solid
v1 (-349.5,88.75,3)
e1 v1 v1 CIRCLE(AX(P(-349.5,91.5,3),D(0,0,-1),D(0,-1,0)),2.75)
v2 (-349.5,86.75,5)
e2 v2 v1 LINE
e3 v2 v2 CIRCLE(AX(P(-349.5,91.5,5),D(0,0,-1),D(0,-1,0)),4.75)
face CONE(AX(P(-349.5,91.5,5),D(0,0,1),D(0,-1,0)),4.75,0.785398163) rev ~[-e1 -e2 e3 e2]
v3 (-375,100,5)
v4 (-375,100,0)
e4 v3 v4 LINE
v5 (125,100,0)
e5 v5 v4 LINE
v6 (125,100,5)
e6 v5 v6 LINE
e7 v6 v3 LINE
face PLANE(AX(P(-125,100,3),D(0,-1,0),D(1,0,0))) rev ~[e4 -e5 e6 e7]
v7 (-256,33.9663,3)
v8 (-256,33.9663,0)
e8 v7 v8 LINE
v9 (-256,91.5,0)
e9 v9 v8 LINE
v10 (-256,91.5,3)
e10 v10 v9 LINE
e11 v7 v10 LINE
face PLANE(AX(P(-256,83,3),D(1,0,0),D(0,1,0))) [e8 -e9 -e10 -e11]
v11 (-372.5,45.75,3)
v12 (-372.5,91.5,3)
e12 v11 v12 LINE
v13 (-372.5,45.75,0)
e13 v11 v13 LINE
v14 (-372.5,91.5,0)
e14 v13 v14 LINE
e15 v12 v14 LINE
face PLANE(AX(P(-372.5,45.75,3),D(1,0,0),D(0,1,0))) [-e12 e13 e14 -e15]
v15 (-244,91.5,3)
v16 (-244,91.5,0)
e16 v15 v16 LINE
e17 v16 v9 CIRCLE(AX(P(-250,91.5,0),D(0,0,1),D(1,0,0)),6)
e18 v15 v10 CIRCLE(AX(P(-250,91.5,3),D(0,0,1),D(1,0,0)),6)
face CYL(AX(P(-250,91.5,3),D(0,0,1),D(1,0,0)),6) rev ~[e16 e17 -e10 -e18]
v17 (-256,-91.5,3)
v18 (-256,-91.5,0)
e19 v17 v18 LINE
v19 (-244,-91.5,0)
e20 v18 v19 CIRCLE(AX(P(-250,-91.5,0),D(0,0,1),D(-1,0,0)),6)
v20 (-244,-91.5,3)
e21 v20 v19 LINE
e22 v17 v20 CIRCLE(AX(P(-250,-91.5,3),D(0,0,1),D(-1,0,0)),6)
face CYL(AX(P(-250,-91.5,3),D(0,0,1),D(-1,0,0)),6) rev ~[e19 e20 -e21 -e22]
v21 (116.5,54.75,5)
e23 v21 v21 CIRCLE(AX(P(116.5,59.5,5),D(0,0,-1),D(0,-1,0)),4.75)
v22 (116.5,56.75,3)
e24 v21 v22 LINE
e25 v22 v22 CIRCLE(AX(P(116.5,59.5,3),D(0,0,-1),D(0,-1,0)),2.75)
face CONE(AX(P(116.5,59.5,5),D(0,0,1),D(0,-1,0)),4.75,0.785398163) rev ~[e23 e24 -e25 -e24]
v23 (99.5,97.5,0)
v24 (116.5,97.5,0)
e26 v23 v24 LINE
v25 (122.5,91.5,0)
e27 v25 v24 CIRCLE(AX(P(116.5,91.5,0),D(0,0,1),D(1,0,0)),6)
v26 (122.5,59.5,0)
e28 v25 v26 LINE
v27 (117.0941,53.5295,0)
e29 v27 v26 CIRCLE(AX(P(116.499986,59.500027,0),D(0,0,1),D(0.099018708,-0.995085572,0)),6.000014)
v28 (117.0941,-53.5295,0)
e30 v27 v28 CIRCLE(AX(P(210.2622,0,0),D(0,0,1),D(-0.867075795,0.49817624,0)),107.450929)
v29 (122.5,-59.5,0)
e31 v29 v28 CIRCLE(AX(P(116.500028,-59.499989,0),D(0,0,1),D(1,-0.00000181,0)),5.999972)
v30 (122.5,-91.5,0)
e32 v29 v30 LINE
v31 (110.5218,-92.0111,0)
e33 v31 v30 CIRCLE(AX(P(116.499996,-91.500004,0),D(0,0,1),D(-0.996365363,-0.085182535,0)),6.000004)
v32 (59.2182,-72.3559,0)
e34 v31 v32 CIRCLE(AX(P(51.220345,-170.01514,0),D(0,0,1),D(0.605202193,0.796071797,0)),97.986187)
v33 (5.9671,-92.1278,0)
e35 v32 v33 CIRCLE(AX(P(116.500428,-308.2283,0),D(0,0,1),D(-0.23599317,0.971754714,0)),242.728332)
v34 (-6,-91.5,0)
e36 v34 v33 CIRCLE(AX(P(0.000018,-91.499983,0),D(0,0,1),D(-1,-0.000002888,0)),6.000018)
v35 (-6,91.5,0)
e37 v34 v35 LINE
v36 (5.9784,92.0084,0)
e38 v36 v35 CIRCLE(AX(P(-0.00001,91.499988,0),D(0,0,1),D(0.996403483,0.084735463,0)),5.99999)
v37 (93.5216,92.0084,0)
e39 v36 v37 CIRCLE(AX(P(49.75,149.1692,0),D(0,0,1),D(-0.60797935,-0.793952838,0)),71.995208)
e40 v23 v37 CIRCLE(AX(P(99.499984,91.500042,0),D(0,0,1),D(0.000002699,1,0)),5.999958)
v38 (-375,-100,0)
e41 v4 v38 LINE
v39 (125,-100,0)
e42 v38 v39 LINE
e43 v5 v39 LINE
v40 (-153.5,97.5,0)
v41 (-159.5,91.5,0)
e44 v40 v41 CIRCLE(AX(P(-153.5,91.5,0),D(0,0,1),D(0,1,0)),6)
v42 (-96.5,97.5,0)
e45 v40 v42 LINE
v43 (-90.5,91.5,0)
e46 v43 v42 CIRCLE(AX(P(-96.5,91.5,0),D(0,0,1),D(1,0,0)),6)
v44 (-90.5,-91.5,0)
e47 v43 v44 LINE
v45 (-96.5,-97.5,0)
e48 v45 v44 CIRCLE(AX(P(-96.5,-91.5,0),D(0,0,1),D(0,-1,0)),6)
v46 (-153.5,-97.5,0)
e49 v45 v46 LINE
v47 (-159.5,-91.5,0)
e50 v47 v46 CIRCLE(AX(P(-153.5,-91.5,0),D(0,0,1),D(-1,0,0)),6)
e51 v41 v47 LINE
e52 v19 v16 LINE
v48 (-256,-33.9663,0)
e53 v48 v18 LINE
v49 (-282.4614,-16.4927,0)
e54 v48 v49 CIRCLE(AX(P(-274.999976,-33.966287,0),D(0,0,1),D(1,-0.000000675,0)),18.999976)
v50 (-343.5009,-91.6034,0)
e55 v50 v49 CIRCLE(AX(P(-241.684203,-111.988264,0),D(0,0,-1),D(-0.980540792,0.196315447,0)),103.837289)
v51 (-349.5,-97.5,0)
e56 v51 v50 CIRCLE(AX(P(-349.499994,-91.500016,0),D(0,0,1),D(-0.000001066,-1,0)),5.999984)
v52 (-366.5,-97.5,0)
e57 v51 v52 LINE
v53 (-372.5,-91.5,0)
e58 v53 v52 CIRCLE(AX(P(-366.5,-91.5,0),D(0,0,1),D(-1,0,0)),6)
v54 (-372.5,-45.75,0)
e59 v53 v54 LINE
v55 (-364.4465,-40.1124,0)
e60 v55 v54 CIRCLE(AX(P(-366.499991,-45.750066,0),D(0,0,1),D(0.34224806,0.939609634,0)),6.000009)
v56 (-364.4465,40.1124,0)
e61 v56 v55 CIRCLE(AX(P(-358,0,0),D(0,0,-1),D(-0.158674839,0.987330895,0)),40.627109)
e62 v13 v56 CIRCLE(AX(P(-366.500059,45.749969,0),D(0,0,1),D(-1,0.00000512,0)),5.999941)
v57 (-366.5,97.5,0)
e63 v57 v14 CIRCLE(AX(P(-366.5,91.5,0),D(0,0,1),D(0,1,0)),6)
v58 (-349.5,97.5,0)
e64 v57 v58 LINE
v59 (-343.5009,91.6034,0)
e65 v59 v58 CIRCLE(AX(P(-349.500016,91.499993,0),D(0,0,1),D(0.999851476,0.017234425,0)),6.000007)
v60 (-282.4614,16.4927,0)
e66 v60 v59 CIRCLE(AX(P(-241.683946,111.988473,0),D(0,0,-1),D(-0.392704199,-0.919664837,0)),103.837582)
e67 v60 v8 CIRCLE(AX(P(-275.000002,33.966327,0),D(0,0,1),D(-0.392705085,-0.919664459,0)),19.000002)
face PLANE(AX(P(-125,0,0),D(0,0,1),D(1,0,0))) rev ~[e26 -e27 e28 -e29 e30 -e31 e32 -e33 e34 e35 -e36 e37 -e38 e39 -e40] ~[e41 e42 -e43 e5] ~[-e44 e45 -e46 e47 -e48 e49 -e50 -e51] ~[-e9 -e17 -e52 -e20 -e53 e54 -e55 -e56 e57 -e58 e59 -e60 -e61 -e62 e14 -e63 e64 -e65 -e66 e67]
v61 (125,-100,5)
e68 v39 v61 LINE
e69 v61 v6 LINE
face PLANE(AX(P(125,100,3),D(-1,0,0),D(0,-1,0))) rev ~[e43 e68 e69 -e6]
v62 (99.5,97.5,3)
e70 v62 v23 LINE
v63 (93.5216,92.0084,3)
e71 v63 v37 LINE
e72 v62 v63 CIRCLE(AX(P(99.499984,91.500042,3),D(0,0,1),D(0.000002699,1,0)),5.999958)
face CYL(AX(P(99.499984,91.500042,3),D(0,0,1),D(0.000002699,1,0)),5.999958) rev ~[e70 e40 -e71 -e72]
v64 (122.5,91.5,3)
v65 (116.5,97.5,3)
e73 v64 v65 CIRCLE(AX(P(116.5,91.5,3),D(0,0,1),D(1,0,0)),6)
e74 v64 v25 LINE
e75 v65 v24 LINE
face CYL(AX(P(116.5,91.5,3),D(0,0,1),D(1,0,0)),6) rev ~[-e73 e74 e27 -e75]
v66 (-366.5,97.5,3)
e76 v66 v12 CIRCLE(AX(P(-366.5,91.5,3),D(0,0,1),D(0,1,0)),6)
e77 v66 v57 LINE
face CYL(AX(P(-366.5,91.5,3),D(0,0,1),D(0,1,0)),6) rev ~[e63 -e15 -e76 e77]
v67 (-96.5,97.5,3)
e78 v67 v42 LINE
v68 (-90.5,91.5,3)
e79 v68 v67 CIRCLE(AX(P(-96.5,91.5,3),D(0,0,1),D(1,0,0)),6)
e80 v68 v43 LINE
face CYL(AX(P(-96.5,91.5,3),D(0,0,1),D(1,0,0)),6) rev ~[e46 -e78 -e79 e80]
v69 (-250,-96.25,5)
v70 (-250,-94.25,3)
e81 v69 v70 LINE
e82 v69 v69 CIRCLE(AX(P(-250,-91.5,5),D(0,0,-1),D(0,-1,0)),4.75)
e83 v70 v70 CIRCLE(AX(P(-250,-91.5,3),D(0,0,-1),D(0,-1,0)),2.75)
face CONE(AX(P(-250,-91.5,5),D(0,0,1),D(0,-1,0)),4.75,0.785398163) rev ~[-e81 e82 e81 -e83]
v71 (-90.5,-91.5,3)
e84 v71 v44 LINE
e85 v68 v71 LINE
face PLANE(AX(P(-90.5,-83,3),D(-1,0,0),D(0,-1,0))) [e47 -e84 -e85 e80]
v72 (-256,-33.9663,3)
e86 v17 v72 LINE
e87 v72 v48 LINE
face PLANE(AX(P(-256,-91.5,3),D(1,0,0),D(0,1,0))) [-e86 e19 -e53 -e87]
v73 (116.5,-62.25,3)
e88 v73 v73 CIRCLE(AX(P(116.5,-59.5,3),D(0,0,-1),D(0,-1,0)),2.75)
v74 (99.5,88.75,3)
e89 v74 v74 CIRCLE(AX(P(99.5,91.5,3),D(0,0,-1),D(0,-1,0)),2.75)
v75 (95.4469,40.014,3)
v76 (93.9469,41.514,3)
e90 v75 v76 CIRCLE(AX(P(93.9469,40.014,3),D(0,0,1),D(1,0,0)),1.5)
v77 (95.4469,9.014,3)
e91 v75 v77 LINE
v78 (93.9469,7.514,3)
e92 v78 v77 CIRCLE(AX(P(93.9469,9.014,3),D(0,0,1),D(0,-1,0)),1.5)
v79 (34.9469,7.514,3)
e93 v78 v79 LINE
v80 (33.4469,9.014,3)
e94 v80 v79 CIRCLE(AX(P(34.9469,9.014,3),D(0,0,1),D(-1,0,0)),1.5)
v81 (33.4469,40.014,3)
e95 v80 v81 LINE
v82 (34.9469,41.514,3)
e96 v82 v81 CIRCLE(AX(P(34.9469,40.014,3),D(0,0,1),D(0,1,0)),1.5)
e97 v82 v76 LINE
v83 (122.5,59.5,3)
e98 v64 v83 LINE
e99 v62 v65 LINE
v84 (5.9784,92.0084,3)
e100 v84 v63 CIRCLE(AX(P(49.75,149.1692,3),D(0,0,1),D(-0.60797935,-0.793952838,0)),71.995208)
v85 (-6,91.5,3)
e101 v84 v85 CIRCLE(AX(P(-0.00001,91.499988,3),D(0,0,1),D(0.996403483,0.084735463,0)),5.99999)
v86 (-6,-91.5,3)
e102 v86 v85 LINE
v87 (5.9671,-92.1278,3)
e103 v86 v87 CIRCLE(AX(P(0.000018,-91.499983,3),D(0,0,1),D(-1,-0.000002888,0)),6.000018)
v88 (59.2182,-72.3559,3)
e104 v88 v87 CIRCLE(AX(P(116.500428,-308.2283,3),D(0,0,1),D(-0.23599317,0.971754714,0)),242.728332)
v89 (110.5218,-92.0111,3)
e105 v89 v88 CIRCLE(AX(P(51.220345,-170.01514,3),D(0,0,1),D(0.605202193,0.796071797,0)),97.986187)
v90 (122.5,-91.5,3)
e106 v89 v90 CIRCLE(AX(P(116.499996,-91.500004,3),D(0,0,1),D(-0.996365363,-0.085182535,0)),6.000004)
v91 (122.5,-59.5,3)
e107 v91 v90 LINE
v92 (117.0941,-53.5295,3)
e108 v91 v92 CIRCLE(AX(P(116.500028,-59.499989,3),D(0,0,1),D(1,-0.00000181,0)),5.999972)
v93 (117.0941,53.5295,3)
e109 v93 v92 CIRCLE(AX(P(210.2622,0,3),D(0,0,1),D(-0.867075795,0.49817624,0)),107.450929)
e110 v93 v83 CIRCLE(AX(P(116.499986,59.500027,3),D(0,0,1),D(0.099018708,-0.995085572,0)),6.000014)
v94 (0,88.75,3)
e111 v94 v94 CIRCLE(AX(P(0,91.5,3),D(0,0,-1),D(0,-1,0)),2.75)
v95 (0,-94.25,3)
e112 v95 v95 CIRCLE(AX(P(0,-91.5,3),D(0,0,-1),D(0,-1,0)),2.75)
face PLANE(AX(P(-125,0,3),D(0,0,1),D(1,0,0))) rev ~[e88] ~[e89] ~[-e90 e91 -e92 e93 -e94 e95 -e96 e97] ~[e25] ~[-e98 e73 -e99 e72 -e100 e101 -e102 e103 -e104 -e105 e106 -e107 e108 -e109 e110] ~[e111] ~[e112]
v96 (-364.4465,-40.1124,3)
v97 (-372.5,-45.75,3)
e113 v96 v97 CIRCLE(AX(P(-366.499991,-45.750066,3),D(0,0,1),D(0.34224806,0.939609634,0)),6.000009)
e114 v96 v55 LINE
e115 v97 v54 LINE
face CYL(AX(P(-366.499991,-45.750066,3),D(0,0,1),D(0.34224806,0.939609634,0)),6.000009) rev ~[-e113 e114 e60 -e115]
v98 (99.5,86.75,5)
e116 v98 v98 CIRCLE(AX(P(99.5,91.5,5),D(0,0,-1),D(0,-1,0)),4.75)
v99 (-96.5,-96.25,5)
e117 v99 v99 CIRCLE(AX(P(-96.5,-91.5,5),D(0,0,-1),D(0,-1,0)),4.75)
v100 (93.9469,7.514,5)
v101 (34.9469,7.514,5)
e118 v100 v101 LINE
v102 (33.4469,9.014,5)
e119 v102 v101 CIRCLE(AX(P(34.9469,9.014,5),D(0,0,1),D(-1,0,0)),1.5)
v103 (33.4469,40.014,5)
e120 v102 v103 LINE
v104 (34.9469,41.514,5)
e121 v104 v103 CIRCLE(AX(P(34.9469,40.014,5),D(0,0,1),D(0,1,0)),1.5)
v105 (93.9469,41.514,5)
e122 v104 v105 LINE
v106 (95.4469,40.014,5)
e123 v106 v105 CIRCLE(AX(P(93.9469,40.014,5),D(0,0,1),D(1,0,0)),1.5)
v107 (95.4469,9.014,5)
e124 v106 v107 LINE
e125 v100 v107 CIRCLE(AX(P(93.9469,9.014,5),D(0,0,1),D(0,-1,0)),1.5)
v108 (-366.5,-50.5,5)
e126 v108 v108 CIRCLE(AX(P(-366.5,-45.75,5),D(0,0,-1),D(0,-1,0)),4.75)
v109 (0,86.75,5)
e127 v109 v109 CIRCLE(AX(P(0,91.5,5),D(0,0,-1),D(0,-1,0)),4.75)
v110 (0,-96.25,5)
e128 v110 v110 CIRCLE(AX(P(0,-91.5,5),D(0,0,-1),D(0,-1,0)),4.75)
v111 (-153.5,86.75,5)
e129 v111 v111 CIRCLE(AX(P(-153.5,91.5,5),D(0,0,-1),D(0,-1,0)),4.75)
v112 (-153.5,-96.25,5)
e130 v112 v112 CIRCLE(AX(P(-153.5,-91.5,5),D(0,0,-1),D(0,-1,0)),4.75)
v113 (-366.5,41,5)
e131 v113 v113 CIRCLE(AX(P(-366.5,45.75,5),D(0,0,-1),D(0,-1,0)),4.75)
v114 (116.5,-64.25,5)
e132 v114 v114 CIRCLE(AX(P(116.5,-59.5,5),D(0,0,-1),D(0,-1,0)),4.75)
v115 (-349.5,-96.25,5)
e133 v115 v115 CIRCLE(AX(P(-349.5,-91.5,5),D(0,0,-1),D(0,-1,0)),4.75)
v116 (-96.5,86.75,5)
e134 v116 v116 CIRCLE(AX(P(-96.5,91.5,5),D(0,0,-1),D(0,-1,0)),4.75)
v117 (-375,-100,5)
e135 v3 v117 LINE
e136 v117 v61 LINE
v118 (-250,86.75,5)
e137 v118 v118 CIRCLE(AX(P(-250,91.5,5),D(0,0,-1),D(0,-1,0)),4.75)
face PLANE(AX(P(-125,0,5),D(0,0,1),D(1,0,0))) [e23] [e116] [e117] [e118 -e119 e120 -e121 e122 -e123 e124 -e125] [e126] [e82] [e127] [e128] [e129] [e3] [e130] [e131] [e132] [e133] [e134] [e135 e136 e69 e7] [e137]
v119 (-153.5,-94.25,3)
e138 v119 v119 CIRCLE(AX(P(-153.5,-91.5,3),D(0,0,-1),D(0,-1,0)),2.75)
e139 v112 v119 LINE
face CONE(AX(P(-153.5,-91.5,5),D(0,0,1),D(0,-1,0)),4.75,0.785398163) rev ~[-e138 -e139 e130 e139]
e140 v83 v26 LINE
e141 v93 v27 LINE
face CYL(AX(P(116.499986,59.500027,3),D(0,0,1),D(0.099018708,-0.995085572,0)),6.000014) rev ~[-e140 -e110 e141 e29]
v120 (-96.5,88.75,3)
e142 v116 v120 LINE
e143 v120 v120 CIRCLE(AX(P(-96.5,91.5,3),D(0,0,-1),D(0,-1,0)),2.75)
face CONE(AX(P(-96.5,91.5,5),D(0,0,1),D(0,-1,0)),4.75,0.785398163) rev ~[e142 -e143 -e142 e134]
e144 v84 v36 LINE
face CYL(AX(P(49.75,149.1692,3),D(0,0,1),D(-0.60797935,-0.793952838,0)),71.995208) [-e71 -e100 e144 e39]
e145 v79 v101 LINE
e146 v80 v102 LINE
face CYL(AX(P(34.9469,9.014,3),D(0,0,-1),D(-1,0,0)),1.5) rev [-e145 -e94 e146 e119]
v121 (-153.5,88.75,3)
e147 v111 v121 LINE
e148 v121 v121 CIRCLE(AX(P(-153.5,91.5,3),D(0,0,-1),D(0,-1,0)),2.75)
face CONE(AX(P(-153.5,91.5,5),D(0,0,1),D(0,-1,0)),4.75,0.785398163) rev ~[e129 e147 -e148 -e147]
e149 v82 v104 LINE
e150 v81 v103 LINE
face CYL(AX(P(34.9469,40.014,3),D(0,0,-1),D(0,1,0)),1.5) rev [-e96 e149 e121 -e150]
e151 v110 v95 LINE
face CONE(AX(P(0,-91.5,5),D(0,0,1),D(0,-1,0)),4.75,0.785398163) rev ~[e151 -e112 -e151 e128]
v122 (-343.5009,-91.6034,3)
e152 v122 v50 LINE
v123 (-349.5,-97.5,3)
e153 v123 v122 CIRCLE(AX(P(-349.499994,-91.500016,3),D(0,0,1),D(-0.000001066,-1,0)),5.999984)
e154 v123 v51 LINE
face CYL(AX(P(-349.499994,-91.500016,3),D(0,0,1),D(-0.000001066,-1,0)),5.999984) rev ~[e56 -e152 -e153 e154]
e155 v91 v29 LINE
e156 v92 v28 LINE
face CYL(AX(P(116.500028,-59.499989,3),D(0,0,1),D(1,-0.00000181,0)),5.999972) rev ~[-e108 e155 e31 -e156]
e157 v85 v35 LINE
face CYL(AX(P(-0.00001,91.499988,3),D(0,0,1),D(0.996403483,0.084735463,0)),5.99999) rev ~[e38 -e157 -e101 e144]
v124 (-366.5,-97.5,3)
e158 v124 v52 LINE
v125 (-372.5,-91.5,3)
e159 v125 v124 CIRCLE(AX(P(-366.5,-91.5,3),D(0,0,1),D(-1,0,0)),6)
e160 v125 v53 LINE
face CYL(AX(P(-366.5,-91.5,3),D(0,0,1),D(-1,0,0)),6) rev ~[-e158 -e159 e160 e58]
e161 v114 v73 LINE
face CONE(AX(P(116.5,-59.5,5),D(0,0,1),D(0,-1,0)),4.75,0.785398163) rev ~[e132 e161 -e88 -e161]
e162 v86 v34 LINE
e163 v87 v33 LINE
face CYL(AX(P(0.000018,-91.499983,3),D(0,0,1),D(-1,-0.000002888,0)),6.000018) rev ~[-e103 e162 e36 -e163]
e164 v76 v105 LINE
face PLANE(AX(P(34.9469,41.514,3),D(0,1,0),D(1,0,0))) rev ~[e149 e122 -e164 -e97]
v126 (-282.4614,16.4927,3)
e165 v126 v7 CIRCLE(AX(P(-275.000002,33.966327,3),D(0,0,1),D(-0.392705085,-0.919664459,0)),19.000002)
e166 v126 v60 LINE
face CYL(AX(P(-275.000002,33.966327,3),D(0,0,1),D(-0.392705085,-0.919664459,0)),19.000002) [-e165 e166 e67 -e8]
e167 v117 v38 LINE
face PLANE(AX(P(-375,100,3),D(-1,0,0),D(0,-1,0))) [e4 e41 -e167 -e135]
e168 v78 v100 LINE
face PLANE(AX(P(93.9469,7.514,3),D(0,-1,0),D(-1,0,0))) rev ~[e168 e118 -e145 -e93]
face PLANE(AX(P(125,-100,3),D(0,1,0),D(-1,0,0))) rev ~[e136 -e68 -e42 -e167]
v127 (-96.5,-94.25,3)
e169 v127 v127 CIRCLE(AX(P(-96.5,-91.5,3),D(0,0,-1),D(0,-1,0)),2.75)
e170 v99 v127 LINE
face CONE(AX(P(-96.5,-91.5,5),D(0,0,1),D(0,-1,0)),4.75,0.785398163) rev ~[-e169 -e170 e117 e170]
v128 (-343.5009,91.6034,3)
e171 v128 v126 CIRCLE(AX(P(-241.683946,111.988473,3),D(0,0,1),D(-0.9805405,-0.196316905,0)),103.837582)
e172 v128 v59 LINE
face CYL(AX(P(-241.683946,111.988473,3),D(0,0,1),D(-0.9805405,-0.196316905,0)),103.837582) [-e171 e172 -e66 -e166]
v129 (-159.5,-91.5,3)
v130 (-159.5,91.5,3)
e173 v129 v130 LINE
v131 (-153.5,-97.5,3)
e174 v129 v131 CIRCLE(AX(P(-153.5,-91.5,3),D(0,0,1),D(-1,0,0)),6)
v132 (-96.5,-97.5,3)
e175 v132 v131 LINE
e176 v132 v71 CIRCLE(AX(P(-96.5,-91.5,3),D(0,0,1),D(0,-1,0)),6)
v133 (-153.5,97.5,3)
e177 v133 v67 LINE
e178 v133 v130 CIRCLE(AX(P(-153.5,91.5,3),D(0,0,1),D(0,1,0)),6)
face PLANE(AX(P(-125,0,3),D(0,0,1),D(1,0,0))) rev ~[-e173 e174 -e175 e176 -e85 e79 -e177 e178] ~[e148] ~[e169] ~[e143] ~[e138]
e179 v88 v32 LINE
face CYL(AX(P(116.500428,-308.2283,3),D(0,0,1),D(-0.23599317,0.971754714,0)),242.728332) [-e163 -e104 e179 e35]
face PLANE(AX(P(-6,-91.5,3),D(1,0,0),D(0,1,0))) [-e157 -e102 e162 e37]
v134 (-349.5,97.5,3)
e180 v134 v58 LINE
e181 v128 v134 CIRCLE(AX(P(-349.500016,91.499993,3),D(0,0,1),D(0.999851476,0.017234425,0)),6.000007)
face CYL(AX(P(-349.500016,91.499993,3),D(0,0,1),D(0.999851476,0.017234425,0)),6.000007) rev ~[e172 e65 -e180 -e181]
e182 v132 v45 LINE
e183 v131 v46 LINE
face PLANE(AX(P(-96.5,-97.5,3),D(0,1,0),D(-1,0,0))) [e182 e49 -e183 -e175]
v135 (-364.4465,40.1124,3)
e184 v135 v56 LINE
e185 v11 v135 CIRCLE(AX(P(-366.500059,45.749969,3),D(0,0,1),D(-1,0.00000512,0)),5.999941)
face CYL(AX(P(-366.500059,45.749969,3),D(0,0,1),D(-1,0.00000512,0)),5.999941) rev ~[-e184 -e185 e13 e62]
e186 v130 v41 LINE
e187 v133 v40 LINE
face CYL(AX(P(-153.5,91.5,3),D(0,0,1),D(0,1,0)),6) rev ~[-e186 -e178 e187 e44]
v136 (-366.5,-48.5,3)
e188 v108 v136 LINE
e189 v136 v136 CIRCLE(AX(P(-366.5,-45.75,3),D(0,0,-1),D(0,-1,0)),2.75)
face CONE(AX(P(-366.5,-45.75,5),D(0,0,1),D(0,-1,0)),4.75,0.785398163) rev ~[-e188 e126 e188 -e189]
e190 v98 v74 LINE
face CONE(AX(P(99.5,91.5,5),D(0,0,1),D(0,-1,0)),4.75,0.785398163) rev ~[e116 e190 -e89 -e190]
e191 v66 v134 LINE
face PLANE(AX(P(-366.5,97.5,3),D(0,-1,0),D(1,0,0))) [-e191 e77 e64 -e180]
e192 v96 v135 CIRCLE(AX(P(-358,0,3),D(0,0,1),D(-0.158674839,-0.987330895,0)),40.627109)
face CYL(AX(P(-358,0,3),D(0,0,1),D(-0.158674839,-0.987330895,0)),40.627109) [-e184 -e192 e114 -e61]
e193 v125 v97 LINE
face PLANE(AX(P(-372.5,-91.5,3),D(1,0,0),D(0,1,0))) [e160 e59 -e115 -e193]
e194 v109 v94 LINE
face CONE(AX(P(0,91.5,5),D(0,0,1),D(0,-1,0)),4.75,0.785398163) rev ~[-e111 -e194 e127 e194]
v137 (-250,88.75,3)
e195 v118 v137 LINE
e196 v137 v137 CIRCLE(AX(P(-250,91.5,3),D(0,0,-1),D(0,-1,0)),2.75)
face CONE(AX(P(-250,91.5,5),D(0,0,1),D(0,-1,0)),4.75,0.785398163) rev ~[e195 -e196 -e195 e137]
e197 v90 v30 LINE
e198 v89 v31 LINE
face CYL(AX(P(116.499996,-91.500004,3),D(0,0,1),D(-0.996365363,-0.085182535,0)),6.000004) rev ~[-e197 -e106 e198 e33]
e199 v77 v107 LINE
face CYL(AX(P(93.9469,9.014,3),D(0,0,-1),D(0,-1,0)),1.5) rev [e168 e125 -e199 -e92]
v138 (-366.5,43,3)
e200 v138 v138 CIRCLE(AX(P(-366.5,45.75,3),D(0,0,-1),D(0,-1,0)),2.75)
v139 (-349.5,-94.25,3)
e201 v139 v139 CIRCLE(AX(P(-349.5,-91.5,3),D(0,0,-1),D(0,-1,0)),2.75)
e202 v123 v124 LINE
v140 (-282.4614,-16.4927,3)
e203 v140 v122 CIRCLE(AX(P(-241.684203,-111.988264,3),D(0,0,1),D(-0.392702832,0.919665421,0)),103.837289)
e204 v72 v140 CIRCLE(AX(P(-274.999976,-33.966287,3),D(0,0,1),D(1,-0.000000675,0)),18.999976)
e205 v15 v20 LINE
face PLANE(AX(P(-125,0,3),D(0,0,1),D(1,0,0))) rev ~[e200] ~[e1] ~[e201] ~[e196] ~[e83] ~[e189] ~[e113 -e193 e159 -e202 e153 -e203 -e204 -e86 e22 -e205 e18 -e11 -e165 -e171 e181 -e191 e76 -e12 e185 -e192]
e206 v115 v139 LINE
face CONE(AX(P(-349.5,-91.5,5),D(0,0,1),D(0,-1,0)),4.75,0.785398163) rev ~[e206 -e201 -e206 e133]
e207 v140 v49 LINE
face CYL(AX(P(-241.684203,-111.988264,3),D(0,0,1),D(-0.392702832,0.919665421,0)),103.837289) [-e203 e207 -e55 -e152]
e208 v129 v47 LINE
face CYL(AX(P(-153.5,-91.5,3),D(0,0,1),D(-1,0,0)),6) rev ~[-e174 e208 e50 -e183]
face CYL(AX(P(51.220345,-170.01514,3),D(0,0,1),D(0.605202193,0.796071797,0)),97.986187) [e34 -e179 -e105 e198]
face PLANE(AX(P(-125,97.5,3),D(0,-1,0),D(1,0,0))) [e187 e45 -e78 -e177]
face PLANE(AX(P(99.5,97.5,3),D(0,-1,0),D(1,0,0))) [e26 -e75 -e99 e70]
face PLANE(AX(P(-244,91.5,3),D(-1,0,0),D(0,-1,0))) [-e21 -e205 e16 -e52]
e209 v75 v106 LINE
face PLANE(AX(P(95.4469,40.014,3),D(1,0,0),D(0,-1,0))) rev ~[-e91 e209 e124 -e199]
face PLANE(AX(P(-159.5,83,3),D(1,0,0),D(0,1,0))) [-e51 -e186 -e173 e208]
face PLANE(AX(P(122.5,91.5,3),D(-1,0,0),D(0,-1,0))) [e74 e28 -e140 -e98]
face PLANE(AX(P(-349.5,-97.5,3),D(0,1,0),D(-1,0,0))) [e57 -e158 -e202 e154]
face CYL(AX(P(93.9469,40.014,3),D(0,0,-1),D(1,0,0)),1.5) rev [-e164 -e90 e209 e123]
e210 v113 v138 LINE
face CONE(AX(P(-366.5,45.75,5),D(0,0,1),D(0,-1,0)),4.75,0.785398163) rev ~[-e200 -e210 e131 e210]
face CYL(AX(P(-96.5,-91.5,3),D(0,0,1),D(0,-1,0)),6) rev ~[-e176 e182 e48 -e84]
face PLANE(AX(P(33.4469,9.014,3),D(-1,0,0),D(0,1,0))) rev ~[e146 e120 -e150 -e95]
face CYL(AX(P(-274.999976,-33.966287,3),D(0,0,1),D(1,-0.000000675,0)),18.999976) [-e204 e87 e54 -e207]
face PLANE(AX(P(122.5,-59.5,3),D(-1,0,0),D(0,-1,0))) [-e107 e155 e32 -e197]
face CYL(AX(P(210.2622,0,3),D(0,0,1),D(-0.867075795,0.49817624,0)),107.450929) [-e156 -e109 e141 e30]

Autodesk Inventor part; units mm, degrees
ref_plane "YZ Plane" through (0, 0, 0) normal (1, 0, 0) x (0, 1, 0)
ref_plane "Work Plane1" through (-125, 0, 3) normal (0, 0, 1) x (1, 0, 0)
sketch "Sketch1" plane through (-125, 0, 3) normal (0, 0, 1) x (1, 0, 0)
  circle A0 centre (241.5, 59.5) radius 1.5 projected
  circle A1 centre (163.8333, 91.5) radius 0.5 projected
  circle A2 centre (28.5, -91.5) radius 2.5 projected
  circle A3 centre (86.1667, -91.5) radius 0.5 projected
  circle A4 centre (125, 91.5) radius 1.5 projected
  circle A5 centre (241.5, 91.5) radius 0.5 projected
  circle A6 centre (241.5, 0) radius 0.5 projected
  circle A7 centre (241.5, -91.5) radius 0.5 projected
  circle A8 centre (28.5, 91.5) radius 1.5 projected
  circle A9 centre (125, -91.5) radius 1.5 projected
  circle A10 centre (86.1667, 91.5) radius 0.5 projected
  circle A11 centre (224.5, 91.5) radius 1.5 projected
  circle A12 centre (241.5, -59.5) radius 1.5 projected
  line L0 (151.825, -90.2) -> (140.325, -90.2) projected
  line L1 (151.825, -97.6) -> (151.825, -90.2) projected
  line L2 (140.325, -97.6) -> (151.825, -97.6) projected
  line L3 (140.325, -90.2) -> (140.325, -97.6) projected
  line L4 (250, -100) -> (0, -100) projected
  line L5 (250, 100) -> (250, -100) projected
  line L6 (0, 100) -> (250, 100) projected
  line L7 (0, 83) -> (0, 100) projected
  line L8 (233, 83) -> (0, 83) projected
  line L9 (233, -83) -> (233, 83) projected
  line L10 (0, -83) -> (233, -83) projected
  line L11 (0, -100) -> (0, -83) projected
  line L12 (197.325, -97.6) -> (208.825, -97.6) projected
  line L13 (197.325, -90.2) -> (197.325, -97.6) projected
  line L14 (208.825, -90.2) -> (197.325, -90.2) projected
  line L15 (208.825, -97.6) -> (208.825, -90.2) projected
  arc A13 (28.5, -96.5) -> (33.5, -91.5) centre (28.5, -91.5) ccw projected
  line L16 (33.5, -91.5) -> (33.5, 91.5) projected
  arc A14 (33.5, 91.5) -> (28.5, 96.5) centre (28.5, 91.5) ccw projected
  line L17 (28.5, 96.5) -> (-28.5, 96.5) projected
  arc A15 (-28.5, 96.5) -> (-33.5, 91.5) centre (-28.5, 91.5) ccw projected
  line L18 (-33.5, 91.5) -> (-33.5, -91.5) projected
  arc A16 (-33.5, -91.5) -> (-28.5, -96.5) centre (-28.5, -91.5) ccw projected
  line L19 (-28.5, -96.5) -> (28.5, -96.5) projected
  circle A17 centre (-28.5, 91.5) radius 1.5 projected
  circle A18 centre (-125, -91.5) radius 1.5 projected
  circle A19 centre (-241.5, 45.75) radius 1.5 projected
  circle A20 centre (-224.5, -91.5) radius 1.5 projected
  circle A21 centre (-241.5, -45.75) radius 1.5 projected
  circle A22 centre (-224.5, 91.5) radius 1.5 projected
  circle A23 centre (-28.5, -91.5) radius 1.5 projected
  circle A24 centre (-125, 91.5) radius 1.5 projected
  circle A25 centre (-163.8333, -91.5) radius 0.5 projected
  circle A26 centre (-241.5, 91.5) radius 0.5 projected
  circle A27 centre (-241.5, -91.5) radius 0.5 projected
  circle A28 centre (-86.1667, -91.5) radius 0.5 projected
  circle A29 centre (-241.5, 0) radius 0.5 projected
  circle A30 centre (-163.8333, 91.5) radius 0.5 projected
  circle A31 centre (-86.1667, 91.5) radius 0.5 projected
  line L20 (-250, 100) -> (-250, -100) projected
  line L21 (-250, -100) -> (0, -100) projected
  line L22 (0, -100) -> (0, -83) projected
  line L23 (0, -83) -> (-233, -83) projected
  line L24 (-233, -83) -> (-233, 83) projected
  line L25 (-233, 83) -> (0, 83) projected
  line L26 (0, 83) -> (0, 100) projected
  line L27 (0, 100) -> (-250, 100) projected
  arc A32 (-246.5, 45.75) -> (-239.7041, 41.0837) centre (-241.5, 45.75) ccw projected
  arc A33 (-239.7041, -41.0837) -> (-239.7041, 41.0837) centre (-233, 0) ccw projected
  arc A34 (-239.7041, -41.0837) -> (-246.5, -45.75) centre (-241.5, -45.75) ccw projected
  line L28 (-246.5, -45.75) -> (-246.5, -91.5) projected
  arc A35 (-246.5, -91.5) -> (-241.5, -96.5) centre (-241.5, -91.5) ccw projected
  line L29 (-241.5, -96.5) -> (-224.5, -96.5) projected
  arc A36 (-224.5, -96.5) -> (-219.5, -91.5) centre (-224.5, -91.5) ccw projected
  arc A37 (-157.8541, -15.573) -> (-219.5, -91.5) centre (-116.6841, -111.9884) ccw projected
  arc A38 (-130, -33.9663) -> (-157.8541, -15.573) centre (-150, -33.9663) ccw projected
  line L30 (-130, -33.9663) -> (-130, -91.5) projected
  arc A39 (-130, -91.5) -> (-120, -91.5) centre (-125, -91.5) ccw projected
  line L31 (-120, -91.5) -> (-120, 91.5) projected
  arc A40 (-120, 91.5) -> (-130, 91.5) centre (-125, 91.5) ccw projected
  line L32 (-130, 91.5) -> (-130, 33.9663) projected
  arc A41 (-157.8541, 15.573) -> (-130, 33.9663) centre (-150, 33.9663) ccw projected
  arc A42 (-219.5, 91.5) -> (-157.8541, 15.573) centre (-116.6841, 111.9884) ccw projected
  arc A43 (-219.5, 91.5) -> (-224.5, 96.5) centre (-224.5, 91.5) ccw projected
  line L33 (-224.5, 96.5) -> (-241.5, 96.5) projected
  arc A44 (-241.5, 96.5) -> (-246.5, 91.5) centre (-241.5, 91.5) ccw projected
  line L34 (-246.5, 91.5) -> (-246.5, 45.75) projected
  line L35 (-28.5, 97.5) -> (28.5, 97.5)
  arc A45 (34.5, 91.5) -> (28.5, 97.5) centre (28.5, 91.5) ccw
  line L36 (34.5, 91.5) -> (34.5, -91.5)
  arc A46 (28.5, -97.5) -> (34.5, -91.5) centre (28.5, -91.5) ccw
  line L37 (28.5, -97.5) -> (-28.5, -97.5)
  arc A47 (-34.5, -91.5) -> (-28.5, -97.5) centre (-28.5, -91.5) ccw
  line L38 (-34.5, -91.5) -> (-34.5, 91.5)
  arc A48 (-28.5, 97.5) -> (-34.5, 91.5) centre (-28.5, 91.5) ccw
  arc A49 (246.5, -59.5) -> (241.5, -54.5) centre (241.5, -59.5) ccw projected
  arc A50 (241.5, 54.5) -> (241.5, -54.5) centre (335.2622, 0) ccw projected
  arc A51 (241.5, 54.5) -> (246.5, 59.5) centre (241.5, 59.5) ccw projected
  line L39 (246.5, 59.5) -> (246.5, 91.5) projected
  arc A52 (246.5, 91.5) -> (241.5, 96.5) centre (241.5, 91.5) ccw projected
  line L40 (241.5, 96.5) -> (224.5, 96.5) projected
  arc A53 (224.5, 96.5) -> (219.5, 91.5) centre (224.5, 91.5) ccw projected
  arc A54 (130, 91.5) -> (219.5, 91.5) centre (174.75, 149.1692) ccw projected
  arc A55 (130, 91.5) -> (120, 91.5) centre (125, 91.5) ccw projected
  line L41 (120, 91.5) -> (120, -91.5) projected
  arc A56 (120, -91.5) -> (130, -91.5) centre (125, -91.5) ccw projected
  arc A57 (184.1388, -71.3462) -> (130, -91.5) centre (241.5, -308.2269) ccw projected
  arc A58 (236.5, -91.5) -> (184.1388, -71.3462) centre (176.2202, -170.0154) ccw projected
  arc A59 (236.5, -91.5) -> (246.5, -91.5) centre (241.5, -91.5) ccw projected
  line L42 (246.5, -91.5) -> (246.5, -59.5) projected
  line L43 (-119, 91.5) -> (-119, -91.5)
  arc A60 (-131, -91.5) -> (-119, -91.5) centre (-125, -91.5) ccw
  line L44 (-131, -91.5) -> (-131, -33.9663)
  arc A61 (-131, -33.9663) -> (-157.4614, -16.4927) centre (-150, -33.9663) ccw
  arc A62 (-157.4614, -16.4927) -> (-218.5009, -91.6034) centre (-116.6841, -111.9884) ccw
  arc A63 (-224.5, -97.5) -> (-218.5009, -91.6034) centre (-224.5, -91.5) ccw
  line L45 (-224.5, -97.5) -> (-241.5, -97.5)
  arc A64 (-247.5, -91.5) -> (-241.5, -97.5) centre (-241.5, -91.5) ccw
  line L46 (-247.5, -91.5) -> (-247.5, -45.75)
  arc A65 (-239.4465, -40.1124) -> (-247.5, -45.75) centre (-241.5, -45.75) ccw
  arc A66 (-239.4465, -40.1124) -> (-239.4465, 40.1124) centre (-233, 0) ccw
  arc A67 (-247.5, 45.75) -> (-239.4465, 40.1124) centre (-241.5, 45.75) ccw
  line L47 (-247.5, 45.75) -> (-247.5, 91.5)
  arc A68 (-241.5, 97.5) -> (-247.5, 91.5) centre (-241.5, 91.5) ccw
  line L48 (-241.5, 97.5) -> (-224.5, 97.5)
  arc A69 (-218.5009, 91.6034) -> (-224.5, 97.5) centre (-224.5, 91.5) ccw
  arc A70 (-218.5009, 91.6034) -> (-157.4614, 16.4927) centre (-116.6841, 111.9884) ccw
  arc A71 (-157.4614, 16.4927) -> (-131, 33.9663) centre (-150, 33.9663) ccw
  line L49 (-131, 33.9663) -> (-131, 91.5)
  arc A72 (-119, 91.5) -> (-131, 91.5) centre (-125, 91.5) ccw
  line L50 (119, -91.5) -> (119, 91.5)
  arc A73 (130.9784, 92.0084) -> (119, 91.5) centre (125, 91.5) ccw
  arc A74 (130.9784, 92.0084) -> (218.5216, 92.0084) centre (174.75, 149.1692) ccw
  arc A75 (224.5, 97.5) -> (218.5216, 92.0084) centre (224.5, 91.5) ccw
  line L51 (224.5, 97.5) -> (241.5, 97.5)
  arc A76 (247.5, 91.5) -> (241.5, 97.5) centre (241.5, 91.5) ccw
  line L52 (247.5, 91.5) -> (247.5, 59.5)
  arc A77 (242.0941, 53.5295) -> (247.5, 59.5) centre (241.5, 59.5) ccw
  arc A78 (242.0941, 53.5295) -> (242.0941, -53.5295) centre (335.2622, 0) ccw
  arc A79 (247.5, -59.5) -> (242.0941, -53.5295) centre (241.5, -59.5) ccw
  line L53 (247.5, -59.5) -> (247.5, -91.5)
  arc A80 (235.5218, -92.0111) -> (247.5, -91.5) centre (241.5, -91.5) ccw
  arc A81 (235.5218, -92.0111) -> (184.2182, -72.3559) centre (176.2202, -170.0154) ccw
  arc A82 (184.2182, -72.3559) -> (130.9671, -92.1278) centre (241.5, -308.2269) ccw
  arc A83 (119, -91.5) -> (130.9671, -92.1278) centre (125, -91.5) ccw
  circle A84 centre (-28.5, 91.5) radius 4 projected
  circle A85 centre (28.5, -91.5) radius 4 projected
  circle A86 centre (-28.5, -91.5) radius 4 projected
  circle A87 centre (28.5, 91.5) radius 4 projected
  circle A88 centre (-224.5, -91.5) radius 4 projected
  circle A89 centre (-241.5, 45.75) radius 4 projected
  circle A90 centre (-125, 91.5) radius 4 projected
  circle A91 centre (-224.5, 91.5) radius 4 projected
  circle A92 centre (-241.5, -45.75) radius 4 projected
  circle A93 centre (-125, -91.5) radius 4 projected
  circle A94 centre (224.5, 91.5) radius 4 projected
  circle A95 centre (125, -91.5) radius 4 projected
  circle A96 centre (241.5, -59.5) radius 4 projected
  circle A97 centre (125, 91.5) radius 4 projected
  circle A98 centre (241.5, 59.5) radius 4 projected
  circle A99 centre (176.2202, -33.9663) radius 26.1144 projected
  circle A100 centre (145.1053, 56.1526) radius 12.5237 projected
  arc A101 (161.2469, 11.514) -> (162.4469, 10.314) centre (162.4469, 11.514) ccw projected
  line L54 (161.2469, 11.514) -> (161.2469, 19.064) projected
  line L55 (161.2469, 19.064) -> (159.9469, 19.064) projected
  line L56 (159.9469, 19.064) -> (159.9469, 29.964) projected
  line L57 (159.9469, 29.964) -> (161.2469, 29.964) projected
  line L58 (161.2469, 29.964) -> (161.2469, 37.514) projected
  arc A102 (162.4469, 38.714) -> (161.2469, 37.514) centre (162.4469, 37.514) ccw projected
  line L59 (162.4469, 38.714) -> (216.4469, 38.714) projected
  arc A103 (217.6469, 37.514) -> (216.4469, 38.714) centre (216.4469, 37.514) ccw projected
  line L60 (217.6469, 37.514) -> (217.6469, 29.964) projected
  line L61 (217.6469, 29.964) -> (218.9469, 29.964) projected
  line L62 (218.9469, 29.964) -> (218.9469, 19.064) projected
  line L63 (218.9469, 19.064) -> (217.6469, 19.064) projected
  line L64 (217.6469, 19.064) -> (217.6469, 11.514) projected
  arc A104 (216.4469, 10.314) -> (217.6469, 11.514) centre (216.4469, 11.514) ccw projected
  line L65 (216.4469, 10.314) -> (162.4469, 10.314) projected
  arc A105 (159.4469, 9.014) -> (159.9469, 8.514) centre (159.9469, 9.014) ccw projected
  line L66 (159.9469, 8.514) -> (218.9469, 8.514) projected
  arc A106 (218.9469, 8.514) -> (219.4469, 9.014) centre (218.9469, 9.014) ccw projected
  line L67 (219.4469, 9.014) -> (219.4469, 40.014) projected
  arc A107 (219.4469, 40.014) -> (218.9469, 40.514) centre (218.9469, 40.014) ccw projected
  line L68 (218.9469, 40.514) -> (159.9469, 40.514) projected
  arc A108 (159.9469, 40.514) -> (159.4469, 40.014) centre (159.9469, 40.014) ccw projected
  line L69 (159.4469, 40.014) -> (159.4469, 9.014) projected
  line L70 (160.9469, 10.014) -> (217.9469, 10.014) projected
  arc A109 (160.4469, 10.514) -> (160.9469, 10.014) centre (160.9469, 10.514) ccw projected
  line L71 (160.4469, 38.514) -> (160.4469, 10.514) projected
  arc A110 (160.9469, 39.014) -> (160.4469, 38.514) centre (160.9469, 38.514) ccw projected
  line L72 (217.9469, 39.014) -> (160.9469, 39.014) projected
  arc A111 (218.4469, 38.514) -> (217.9469, 39.014) centre (217.9469, 38.514) ccw projected
  line L73 (218.4469, 10.514) -> (218.4469, 38.514) projected
  arc A112 (217.9469, 10.014) -> (218.4469, 10.514) centre (217.9469, 10.514) ccw projected
  line L74 (218.9469, 7.514) -> (159.9469, 7.514)
  arc A113 (158.4469, 9.014) -> (159.9469, 7.514) centre (159.9469, 9.014) ccw
  line L75 (158.4469, 9.014) -> (158.4469, 40.014)
  arc A114 (159.9469, 41.514) -> (158.4469, 40.014) centre (159.9469, 40.014) ccw
  line L76 (159.9469, 41.514) -> (218.9469, 41.514)
  arc A115 (220.4469, 40.014) -> (218.9469, 41.514) centre (218.9469, 40.014) ccw
  line L77 (220.4469, 40.014) -> (220.4469, 9.014)
  arc A116 (218.9469, 7.514) -> (220.4469, 9.014) centre (218.9469, 9.014) ccw
  point P0 (125, 0)
  dimension "d0" = 1
  dimension "d1" = 1
  dimension "d2" = 1
  dimension "d15" = 1
ref_plane "Work Plane2" through (-375, -100, 0) normal (0, 0, 1) x (1, 0, 0)
extrude "Extrusion1" add sketch "Sketch1" against normal up to surface (3 mm away) contours A1 | A3 | A6 | A10 | L1 L2 L3 L0 | L4 L11 L37 A46 L36 L10 L50 A83 A82 A81 A80 L53 A79 A78 L9 A77 L52 A76 L51 A75 A74 L8 A73 A45 L35 L7 L6 L5 | L21 L20 L27 L7 L35 A48 L38 L25 L43 A72 L49 A70 A69 L48 A68 L47 A67 A66 L24 A65 L46 A64 L45 A63 A62 L23 L44 A60 A47 L37 L11 | L36 L8 L50 L10 | L23 L43 L25 L38 | A82 A81 L10 | L23 A62 A61 L44 | L8 A74 | L49 A71 A70 L25 | A78 L9 | L24 A66 | L13 L14 L15 L12 | A25 | A28 | A29 | A30 | A31
sketch "Sketch2" plane through (-125, 0, 3) normal (0, 0, 1) x (1, 0, 0)
  line L0 (-250, 100) -> (-250, -100) projected
  line L1 (-250, -100) -> (250, -100) projected
  line L2 (250, -100) -> (250, 100) projected
  line L3 (250, 100) -> (-250, 100) projected
  line L4 (34.5, 91.5) -> (34.5, -91.5) projected
  arc A0 (28.5, -97.5) -> (34.5, -91.5) centre (28.5, -91.5) ccw projected
  line L5 (28.5, -97.5) -> (-28.5, -97.5) projected
  arc A1 (-34.5, -91.5) -> (-28.5, -97.5) centre (-28.5, -91.5) ccw projected
  line L6 (-34.5, -91.5) -> (-34.5, 91.5) projected
  arc A2 (-28.5, 97.5) -> (-34.5, 91.5) centre (-28.5, 91.5) ccw projected
  line L7 (-28.5, 97.5) -> (28.5, 97.5) projected
  arc A3 (34.5, 91.5) -> (28.5, 97.5) centre (28.5, 91.5) ccw projected
  line L8 (119, -91.5) -> (119, 91.5) projected
  arc A4 (130.9784, 92.0084) -> (119, 91.5) centre (125, 91.5) ccw projected
  arc A5 (130.9784, 92.0084) -> (218.5216, 92.0084) centre (174.75, 149.1692) ccw projected
  arc A6 (224.5, 97.5) -> (218.5216, 92.0084) centre (224.5, 91.5) ccw projected
  line L9 (224.5, 97.5) -> (241.5, 97.5) projected
  arc A7 (247.5, 91.5) -> (241.5, 97.5) centre (241.5, 91.5) ccw projected
  line L10 (247.5, 91.5) -> (247.5, 59.5) projected
  arc A8 (242.0941, 53.5295) -> (247.5, 59.5) centre (241.5, 59.5) ccw projected
  arc A9 (242.0941, 53.5295) -> (242.0941, -53.5295) centre (335.2622, 0) ccw projected
  arc A10 (247.5, -59.5) -> (242.0941, -53.5295) centre (241.5, -59.5) ccw projected
  line L11 (247.5, -59.5) -> (247.5, -91.5) projected
  arc A11 (235.5218, -92.0111) -> (247.5, -91.5) centre (241.5, -91.5) ccw projected
  arc A12 (235.5218, -92.0111) -> (184.2182, -72.3559) centre (176.2202, -170.0154) ccw projected
  arc A13 (184.2182, -72.3559) -> (130.9671, -92.1278) centre (241.5, -308.2269) ccw projected
  arc A14 (119, -91.5) -> (130.9671, -92.1278) centre (125, -91.5) ccw projected
  line L12 (-119, 91.5) -> (-119, -91.5) projected
  arc A15 (-131, -91.5) -> (-119, -91.5) centre (-125, -91.5) ccw projected
  line L13 (-131, -91.5) -> (-131, -33.9663) projected
  arc A16 (-131, -33.9663) -> (-157.4614, -16.4927) centre (-150, -33.9663) ccw projected
  arc A17 (-157.4614, -16.4927) -> (-218.5009, -91.6034) centre (-116.6841, -111.9884) ccw projected
  arc A18 (-224.5, -97.5) -> (-218.5009, -91.6034) centre (-224.5, -91.5) ccw projected
  line L14 (-224.5, -97.5) -> (-241.5, -97.5) projected
  arc A19 (-247.5, -91.5) -> (-241.5, -97.5) centre (-241.5, -91.5) ccw projected
  line L15 (-247.5, -91.5) -> (-247.5, -45.75) projected
  arc A20 (-239.4465, -40.1124) -> (-247.5, -45.75) centre (-241.5, -45.75) ccw projected
  arc A21 (-239.4465, -40.1124) -> (-239.4465, 40.1124) centre (-233, 0) ccw projected
  arc A22 (-247.5, 45.75) -> (-239.4465, 40.1124) centre (-241.5, 45.75) ccw projected
  line L16 (-247.5, 45.75) -> (-247.5, 91.5) projected
  arc A23 (-241.5, 97.5) -> (-247.5, 91.5) centre (-241.5, 91.5) ccw projected
  line L17 (-241.5, 97.5) -> (-224.5, 97.5) projected
  arc A24 (-218.5009, 91.6034) -> (-224.5, 97.5) centre (-224.5, 91.5) ccw projected
  arc A25 (-218.5009, 91.6034) -> (-157.4614, 16.4927) centre (-116.6841, 111.9884) ccw projected
  arc A26 (-157.4614, 16.4927) -> (-131, 33.9663) centre (-150, 33.9663) ccw projected
  line L18 (-131, 33.9663) -> (-131, 91.5) projected
  arc A27 (-119, 91.5) -> (-131, 91.5) centre (-125, 91.5) ccw projected
  line L19 (250, 100) -> (250, -100) projected
  line L20 (250, 100) -> (-250, 100)
  line L21 (-250, 100) -> (-250, -100)
  line L22 (-250, -100) -> (250, -100)
  line L23 (250, -100) -> (250, 100)
  arc A28 (159.4469, 9.014) -> (159.9469, 8.514) centre (159.9469, 9.014) ccw projected
  line L24 (159.9469, 8.514) -> (218.9469, 8.514) projected
  arc A29 (218.9469, 8.514) -> (219.4469, 9.014) centre (218.9469, 9.014) ccw projected
  line L25 (219.4469, 9.014) -> (219.4469, 40.014) projected
  arc A30 (219.4469, 40.014) -> (218.9469, 40.514) centre (218.9469, 40.014) ccw projected
  line L26 (218.9469, 40.514) -> (159.9469, 40.514) projected
  arc A31 (159.9469, 40.514) -> (159.4469, 40.014) centre (159.9469, 40.014) ccw projected
  line L27 (159.4469, 40.014) -> (159.4469, 9.014) projected
  line L28 (160.9469, 10.014) -> (217.9469, 10.014) projected
  arc A32 (160.4469, 10.514) -> (160.9469, 10.014) centre (160.9469, 10.514) ccw projected
  line L29 (160.4469, 38.514) -> (160.4469, 10.514) projected
  arc A33 (160.9469, 39.014) -> (160.4469, 38.514) centre (160.9469, 38.514) ccw projected
  line L30 (217.9469, 39.014) -> (160.9469, 39.014) projected
  arc A34 (218.4469, 38.514) -> (217.9469, 39.014) centre (217.9469, 38.514) ccw projected
  line L31 (218.4469, 10.514) -> (218.4469, 38.514) projected
  arc A35 (217.9469, 10.014) -> (218.4469, 10.514) centre (217.9469, 10.514) ccw projected
  line L32 (218.9469, 7.514) -> (159.9469, 7.514)
  arc A36 (158.4469, 9.014) -> (159.9469, 7.514) centre (159.9469, 9.014) ccw
  line L33 (158.4469, 9.014) -> (158.4469, 40.014)
  arc A37 (159.9469, 41.514) -> (158.4469, 40.014) centre (159.9469, 40.014) ccw
  line L34 (159.9469, 41.514) -> (218.9469, 41.514)
  arc A38 (220.4469, 40.014) -> (218.9469, 41.514) centre (218.9469, 40.014) ccw
  line L35 (220.4469, 40.014) -> (220.4469, 9.014)
  arc A39 (218.9469, 7.514) -> (220.4469, 9.014) centre (218.9469, 9.014) ccw
  point P0 (125, 0)
  dimension "d16" = 1
extrude "Extrusion2" add sketch "Sketch2" along normal blind 2 contours L3 L2 L1 L0 | L4 A0 L5 A1 L6 A2 L7 A3 | L8 A4 A5 A6 L9 A7 L10 A8 A9 A10 L11 A11 A12 A13 A14 | L12 A15 L13 A16 A17 A18 L14 A19 L15 A20 A21 A22 L16 A23 L17 A24 A25 A26 L18 A27
sketch "Sketch3" plane through (-125, 0, 5) normal (0, 0, 1) x (1, 0, 0)
  circle A0 centre (241.5, -59.5) radius 2.5 projected
  circle A1 centre (241.5, 59.5) radius 2.5 projected
  circle A2 centre (224.5, 91.5) radius 2.5 projected
  circle A3 centre (125, 91.5) radius 2.5 projected
  circle A4 centre (28.5, 91.5) radius 2.5 projected
  circle A5 centre (-28.5, 91.5) radius 2.5 projected
  circle A6 centre (-125, 91.5) radius 2.5 projected
  circle A7 centre (-224.5, 91.5) radius 2.5 projected
  circle A8 centre (-241.5, 45.75) radius 2.5 projected
  circle A9 centre (-241.5, -45.75) radius 2.5 projected
  circle A10 centre (-224.5, -91.5) radius 2.5 projected
  circle A11 centre (-125, -91.5) radius 2.5 projected
  circle A12 centre (-28.5, -91.5) radius 2.5 projected
  circle A13 centre (28.5, -91.5) radius 2.5 projected
  circle A14 centre (125, -91.5) radius 2.5 projected
  point P0 (125, 0)
hole "Hole1" at (-366.5, 45.75, 5) at (-349.5, 91.5, 5) at (-366.5, -45.75, 5) at (-349.5, -91.5, 5) at (-250, 91.5, 5) at (-250, -91.5, 5) at (-153.5, -91.5, 5) at (-153.5, 91.5, 5) at (-96.5, 91.5, 5) at (-96.5, -91.5, 5) at (0, 91.5, 5) at (0, -91.5, 5) at (116.5, -59.5, 5) at (116.5, 59.5, 5) at (99.5, 91.5, 5) direction (0, 0, -1) diameter 4.5 end through all countersink diameter 9.5 countersink angle 90 clearance for "Countersunk Flat Head Screw ISO 2009/7046" size "M4" standard "ISO"
properties part number "tpu_ceil"
